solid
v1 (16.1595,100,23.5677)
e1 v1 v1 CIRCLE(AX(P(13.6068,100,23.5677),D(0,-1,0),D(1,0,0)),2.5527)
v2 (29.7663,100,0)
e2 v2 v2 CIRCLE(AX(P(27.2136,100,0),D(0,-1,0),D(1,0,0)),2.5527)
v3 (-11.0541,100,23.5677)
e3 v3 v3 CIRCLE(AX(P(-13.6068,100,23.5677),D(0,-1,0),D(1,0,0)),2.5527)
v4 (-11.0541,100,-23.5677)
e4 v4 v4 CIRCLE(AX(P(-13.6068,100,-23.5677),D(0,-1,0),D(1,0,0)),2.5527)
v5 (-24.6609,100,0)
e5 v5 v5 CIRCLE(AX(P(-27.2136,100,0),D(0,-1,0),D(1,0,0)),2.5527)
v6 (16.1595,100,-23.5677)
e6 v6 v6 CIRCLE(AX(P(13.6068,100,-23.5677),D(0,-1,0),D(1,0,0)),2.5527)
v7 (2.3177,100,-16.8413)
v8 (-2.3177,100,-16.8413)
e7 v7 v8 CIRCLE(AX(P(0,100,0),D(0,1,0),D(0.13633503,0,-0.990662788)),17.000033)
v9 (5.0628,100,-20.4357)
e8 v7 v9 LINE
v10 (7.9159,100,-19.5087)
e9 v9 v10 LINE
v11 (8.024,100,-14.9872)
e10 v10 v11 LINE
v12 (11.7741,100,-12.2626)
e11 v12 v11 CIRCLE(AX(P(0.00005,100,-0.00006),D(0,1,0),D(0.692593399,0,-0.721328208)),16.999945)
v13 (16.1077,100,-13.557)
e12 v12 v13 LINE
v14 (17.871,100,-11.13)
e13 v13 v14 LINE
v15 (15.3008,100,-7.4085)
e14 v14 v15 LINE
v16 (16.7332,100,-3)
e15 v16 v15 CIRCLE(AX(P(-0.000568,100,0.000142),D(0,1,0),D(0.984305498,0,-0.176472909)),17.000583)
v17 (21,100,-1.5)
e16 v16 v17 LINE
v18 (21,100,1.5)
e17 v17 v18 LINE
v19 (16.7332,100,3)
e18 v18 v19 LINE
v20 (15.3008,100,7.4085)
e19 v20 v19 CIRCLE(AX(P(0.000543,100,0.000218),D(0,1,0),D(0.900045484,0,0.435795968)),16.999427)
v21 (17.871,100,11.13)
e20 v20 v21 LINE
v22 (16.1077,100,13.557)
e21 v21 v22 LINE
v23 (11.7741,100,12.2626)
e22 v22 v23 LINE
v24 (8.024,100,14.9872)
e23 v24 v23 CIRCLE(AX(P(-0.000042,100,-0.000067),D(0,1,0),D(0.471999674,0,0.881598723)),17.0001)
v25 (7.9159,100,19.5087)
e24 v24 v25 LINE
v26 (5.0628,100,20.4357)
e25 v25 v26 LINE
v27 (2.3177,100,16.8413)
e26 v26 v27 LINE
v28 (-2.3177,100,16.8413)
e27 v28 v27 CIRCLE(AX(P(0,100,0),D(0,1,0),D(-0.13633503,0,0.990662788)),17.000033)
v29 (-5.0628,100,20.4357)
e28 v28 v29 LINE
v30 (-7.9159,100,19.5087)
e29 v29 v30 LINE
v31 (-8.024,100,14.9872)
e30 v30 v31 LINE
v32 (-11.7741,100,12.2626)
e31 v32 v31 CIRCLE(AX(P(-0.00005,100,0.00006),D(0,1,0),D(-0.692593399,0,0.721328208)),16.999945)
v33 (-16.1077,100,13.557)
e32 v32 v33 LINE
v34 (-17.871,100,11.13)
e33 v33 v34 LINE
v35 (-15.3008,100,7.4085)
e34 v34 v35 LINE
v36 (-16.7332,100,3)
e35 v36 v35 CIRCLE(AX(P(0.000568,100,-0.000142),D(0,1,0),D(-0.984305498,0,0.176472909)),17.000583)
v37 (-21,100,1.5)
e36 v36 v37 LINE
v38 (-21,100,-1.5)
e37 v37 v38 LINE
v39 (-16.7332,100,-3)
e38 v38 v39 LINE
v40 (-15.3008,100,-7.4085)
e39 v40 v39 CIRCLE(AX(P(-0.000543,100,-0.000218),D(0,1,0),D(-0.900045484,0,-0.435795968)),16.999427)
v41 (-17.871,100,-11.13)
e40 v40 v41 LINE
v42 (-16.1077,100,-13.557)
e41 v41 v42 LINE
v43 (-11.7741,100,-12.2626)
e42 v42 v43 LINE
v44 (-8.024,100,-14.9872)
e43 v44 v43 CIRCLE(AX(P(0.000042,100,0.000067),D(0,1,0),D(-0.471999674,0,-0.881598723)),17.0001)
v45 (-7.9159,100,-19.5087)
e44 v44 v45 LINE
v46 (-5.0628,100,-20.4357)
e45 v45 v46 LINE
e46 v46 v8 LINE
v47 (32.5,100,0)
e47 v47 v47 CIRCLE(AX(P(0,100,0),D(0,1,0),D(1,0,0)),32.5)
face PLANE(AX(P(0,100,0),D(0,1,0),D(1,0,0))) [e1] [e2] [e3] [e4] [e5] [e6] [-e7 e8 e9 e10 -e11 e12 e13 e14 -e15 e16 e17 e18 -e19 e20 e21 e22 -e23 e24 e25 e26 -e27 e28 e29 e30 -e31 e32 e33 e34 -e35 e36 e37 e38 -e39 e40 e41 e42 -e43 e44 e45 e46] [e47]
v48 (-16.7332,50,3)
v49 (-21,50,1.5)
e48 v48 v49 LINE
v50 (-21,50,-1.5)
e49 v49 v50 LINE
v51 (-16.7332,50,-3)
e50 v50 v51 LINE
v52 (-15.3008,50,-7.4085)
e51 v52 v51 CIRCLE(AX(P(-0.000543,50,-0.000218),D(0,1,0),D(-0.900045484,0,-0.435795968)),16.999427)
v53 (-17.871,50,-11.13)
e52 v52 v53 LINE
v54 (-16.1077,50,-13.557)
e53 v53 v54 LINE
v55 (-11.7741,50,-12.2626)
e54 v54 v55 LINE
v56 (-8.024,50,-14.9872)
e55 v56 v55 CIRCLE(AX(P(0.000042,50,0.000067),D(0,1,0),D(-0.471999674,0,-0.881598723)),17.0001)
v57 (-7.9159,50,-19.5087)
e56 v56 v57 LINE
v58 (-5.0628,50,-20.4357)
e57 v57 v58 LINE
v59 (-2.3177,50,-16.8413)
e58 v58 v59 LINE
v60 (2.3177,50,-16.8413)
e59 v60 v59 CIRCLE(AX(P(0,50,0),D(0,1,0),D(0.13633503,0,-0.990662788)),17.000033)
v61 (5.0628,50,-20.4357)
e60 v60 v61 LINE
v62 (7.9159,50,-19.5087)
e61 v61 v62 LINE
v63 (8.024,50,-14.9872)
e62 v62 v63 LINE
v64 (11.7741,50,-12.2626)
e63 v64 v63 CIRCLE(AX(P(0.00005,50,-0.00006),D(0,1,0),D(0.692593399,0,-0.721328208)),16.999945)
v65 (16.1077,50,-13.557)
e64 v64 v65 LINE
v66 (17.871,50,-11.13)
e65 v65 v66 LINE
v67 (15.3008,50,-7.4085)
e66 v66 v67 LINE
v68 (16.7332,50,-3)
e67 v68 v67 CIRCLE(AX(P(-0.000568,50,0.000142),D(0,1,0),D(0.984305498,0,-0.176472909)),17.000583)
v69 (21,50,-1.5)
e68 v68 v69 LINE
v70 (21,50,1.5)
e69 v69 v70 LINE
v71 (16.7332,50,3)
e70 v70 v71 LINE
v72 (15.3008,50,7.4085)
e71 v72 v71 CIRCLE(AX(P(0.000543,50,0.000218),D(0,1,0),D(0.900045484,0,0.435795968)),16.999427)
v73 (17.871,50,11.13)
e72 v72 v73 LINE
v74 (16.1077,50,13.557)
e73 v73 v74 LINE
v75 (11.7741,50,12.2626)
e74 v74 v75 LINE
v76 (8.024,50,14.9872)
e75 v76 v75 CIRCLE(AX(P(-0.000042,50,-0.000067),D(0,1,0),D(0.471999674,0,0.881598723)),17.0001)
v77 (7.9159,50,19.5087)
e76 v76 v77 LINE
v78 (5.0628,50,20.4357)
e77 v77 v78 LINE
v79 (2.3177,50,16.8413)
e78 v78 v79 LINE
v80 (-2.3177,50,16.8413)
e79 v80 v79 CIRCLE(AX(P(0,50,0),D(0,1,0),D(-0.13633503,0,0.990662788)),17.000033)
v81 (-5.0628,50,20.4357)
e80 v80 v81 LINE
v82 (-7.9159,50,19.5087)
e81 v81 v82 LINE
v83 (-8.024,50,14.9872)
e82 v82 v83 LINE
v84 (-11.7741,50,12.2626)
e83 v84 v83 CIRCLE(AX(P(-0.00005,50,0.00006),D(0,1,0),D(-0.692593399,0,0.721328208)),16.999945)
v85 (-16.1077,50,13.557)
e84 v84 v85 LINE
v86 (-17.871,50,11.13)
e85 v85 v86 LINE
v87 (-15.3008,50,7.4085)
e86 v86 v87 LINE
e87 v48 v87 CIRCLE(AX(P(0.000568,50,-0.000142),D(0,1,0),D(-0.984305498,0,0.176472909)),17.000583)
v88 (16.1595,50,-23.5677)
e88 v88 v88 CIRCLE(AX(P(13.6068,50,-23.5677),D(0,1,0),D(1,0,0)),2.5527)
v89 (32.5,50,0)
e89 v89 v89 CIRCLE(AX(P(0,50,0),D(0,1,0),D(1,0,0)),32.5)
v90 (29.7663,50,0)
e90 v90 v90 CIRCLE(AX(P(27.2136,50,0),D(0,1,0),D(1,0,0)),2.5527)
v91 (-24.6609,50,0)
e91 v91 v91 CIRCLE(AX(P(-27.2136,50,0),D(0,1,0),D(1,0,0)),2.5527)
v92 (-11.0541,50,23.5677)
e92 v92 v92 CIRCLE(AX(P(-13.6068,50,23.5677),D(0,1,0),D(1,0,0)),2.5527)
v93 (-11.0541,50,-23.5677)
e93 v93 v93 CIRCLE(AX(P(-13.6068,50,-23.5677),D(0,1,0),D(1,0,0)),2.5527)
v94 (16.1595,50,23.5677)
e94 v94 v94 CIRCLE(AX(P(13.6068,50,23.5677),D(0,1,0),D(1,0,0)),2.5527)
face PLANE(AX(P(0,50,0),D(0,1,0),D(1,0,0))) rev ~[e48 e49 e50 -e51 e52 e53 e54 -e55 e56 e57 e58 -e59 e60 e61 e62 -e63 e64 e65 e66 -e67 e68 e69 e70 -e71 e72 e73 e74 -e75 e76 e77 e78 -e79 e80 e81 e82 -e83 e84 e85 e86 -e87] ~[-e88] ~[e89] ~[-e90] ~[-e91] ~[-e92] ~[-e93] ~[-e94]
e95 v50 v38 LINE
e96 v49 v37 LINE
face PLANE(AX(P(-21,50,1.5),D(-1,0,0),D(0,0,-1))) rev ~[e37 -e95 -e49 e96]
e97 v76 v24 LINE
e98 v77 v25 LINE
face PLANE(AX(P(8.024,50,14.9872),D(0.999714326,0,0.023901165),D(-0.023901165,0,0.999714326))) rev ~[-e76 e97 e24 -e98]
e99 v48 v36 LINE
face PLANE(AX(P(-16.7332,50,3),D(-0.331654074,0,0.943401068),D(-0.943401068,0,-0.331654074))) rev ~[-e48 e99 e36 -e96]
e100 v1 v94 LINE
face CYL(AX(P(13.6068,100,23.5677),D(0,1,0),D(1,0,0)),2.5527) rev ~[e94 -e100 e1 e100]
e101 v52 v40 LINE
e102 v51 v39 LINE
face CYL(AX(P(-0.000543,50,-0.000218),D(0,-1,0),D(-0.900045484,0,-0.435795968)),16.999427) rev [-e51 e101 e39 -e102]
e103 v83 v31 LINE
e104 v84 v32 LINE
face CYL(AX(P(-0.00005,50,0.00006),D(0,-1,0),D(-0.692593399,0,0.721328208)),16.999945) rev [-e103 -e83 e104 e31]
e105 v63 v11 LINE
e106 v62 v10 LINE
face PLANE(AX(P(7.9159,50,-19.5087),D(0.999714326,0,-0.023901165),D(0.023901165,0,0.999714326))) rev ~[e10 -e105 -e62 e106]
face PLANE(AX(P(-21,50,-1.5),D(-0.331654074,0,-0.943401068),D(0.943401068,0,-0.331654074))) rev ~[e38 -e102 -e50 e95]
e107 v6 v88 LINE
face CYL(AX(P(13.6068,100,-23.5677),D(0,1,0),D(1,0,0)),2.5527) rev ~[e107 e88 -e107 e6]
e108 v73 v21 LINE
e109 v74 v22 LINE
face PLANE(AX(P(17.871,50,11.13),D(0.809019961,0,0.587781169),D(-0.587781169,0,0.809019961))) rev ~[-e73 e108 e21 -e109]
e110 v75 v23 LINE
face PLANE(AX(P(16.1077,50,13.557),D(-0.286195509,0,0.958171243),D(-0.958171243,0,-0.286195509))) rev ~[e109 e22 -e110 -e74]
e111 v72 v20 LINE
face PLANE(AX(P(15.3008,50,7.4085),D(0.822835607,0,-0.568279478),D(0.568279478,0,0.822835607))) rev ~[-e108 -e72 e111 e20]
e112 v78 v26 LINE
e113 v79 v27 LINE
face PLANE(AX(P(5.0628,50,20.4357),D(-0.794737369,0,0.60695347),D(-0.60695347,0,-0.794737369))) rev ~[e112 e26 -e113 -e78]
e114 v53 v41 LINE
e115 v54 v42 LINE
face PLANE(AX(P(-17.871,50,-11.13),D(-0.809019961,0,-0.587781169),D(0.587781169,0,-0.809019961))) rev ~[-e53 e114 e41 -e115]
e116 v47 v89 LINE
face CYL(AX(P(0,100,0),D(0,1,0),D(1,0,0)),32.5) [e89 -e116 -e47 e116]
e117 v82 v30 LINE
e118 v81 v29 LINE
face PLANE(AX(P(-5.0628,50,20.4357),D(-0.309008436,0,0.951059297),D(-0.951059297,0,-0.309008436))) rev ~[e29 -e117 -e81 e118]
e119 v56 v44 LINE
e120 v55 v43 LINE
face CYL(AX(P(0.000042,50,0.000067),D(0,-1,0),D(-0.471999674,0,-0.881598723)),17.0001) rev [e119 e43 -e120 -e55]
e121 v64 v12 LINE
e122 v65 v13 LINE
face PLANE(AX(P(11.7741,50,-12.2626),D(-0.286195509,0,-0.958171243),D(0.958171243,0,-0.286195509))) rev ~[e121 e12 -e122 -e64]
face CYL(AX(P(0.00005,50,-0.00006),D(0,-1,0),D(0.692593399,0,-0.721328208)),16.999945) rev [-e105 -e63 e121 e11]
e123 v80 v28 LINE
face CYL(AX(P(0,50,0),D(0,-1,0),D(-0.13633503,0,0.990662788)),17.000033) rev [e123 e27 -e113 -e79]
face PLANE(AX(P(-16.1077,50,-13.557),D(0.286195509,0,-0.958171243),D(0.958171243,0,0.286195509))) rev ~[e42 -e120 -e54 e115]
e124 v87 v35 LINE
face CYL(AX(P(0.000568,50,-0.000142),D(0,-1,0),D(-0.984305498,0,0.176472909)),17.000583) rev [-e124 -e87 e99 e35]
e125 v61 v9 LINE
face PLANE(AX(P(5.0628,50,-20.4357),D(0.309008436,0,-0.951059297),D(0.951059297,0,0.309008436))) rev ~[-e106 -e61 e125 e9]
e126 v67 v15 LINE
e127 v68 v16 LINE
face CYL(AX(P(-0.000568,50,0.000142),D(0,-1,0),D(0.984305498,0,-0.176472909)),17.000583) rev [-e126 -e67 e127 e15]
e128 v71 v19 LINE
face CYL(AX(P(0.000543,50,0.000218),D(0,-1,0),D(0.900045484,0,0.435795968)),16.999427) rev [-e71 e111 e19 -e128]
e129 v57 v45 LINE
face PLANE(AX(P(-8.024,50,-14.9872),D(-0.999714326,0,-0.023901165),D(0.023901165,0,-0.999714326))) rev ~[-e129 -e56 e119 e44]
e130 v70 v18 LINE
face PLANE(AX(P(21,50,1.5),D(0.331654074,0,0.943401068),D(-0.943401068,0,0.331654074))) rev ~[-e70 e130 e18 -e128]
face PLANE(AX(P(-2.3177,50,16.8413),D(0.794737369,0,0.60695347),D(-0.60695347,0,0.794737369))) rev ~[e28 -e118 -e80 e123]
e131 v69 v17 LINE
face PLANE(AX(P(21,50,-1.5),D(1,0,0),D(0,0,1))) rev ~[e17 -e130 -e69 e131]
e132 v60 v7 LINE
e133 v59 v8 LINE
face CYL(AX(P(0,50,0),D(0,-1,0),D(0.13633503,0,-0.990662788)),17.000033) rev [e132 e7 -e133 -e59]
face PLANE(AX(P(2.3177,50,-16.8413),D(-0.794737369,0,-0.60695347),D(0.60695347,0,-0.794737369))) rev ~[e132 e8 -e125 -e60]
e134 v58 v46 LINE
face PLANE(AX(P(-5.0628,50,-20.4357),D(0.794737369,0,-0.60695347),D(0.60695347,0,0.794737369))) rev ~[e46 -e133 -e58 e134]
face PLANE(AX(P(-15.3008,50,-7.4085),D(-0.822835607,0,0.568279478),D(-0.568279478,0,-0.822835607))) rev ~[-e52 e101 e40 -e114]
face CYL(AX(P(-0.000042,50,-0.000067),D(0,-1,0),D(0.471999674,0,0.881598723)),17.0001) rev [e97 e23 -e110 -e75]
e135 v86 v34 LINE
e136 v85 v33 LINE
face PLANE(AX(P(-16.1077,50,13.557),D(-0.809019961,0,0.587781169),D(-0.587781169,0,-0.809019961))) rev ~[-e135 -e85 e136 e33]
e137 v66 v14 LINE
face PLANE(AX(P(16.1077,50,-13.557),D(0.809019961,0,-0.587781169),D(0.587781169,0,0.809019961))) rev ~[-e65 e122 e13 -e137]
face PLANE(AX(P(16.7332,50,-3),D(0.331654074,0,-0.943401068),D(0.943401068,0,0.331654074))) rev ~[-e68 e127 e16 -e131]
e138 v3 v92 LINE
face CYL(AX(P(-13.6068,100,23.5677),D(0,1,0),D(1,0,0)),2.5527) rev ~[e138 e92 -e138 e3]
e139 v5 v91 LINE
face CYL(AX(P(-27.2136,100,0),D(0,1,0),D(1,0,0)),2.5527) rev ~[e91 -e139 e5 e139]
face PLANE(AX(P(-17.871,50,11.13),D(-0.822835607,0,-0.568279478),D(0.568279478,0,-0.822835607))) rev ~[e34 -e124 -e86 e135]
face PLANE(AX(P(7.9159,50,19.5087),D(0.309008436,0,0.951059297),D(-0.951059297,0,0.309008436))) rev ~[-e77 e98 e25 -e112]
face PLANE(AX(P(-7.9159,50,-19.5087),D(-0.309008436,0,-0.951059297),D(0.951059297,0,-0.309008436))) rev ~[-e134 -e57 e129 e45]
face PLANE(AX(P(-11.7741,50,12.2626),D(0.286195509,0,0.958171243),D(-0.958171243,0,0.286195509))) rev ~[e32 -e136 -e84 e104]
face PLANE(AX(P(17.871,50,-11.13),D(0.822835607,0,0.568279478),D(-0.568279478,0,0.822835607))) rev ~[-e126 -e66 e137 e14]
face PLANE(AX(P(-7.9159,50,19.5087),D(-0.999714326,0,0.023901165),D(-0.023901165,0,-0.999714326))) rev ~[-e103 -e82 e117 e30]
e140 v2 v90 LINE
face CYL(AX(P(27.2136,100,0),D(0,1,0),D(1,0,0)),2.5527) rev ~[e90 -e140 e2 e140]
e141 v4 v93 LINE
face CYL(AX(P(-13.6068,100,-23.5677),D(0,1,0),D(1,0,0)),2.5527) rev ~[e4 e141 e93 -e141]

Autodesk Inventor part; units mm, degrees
ref_plane "YZ Plane" through (0, 0, 0) normal (1, 0, 0) x (0, 1, 0)
ref_plane "XZ Plane" through (0, 0, 0) normal (0, 1, 0) x (-1, 0, 0)
ref_plane "XY Plane" through (0, 0, 0) normal (0, 0, 1) x (1, 0, 0)
sketch "Sketch1" plane through (0, 0, 0) normal (0, 1, 0) x (-1, 0, 0)
  circle A0 centre (0, 0) radius 17
  line L0 (16.7332, -3) -> (21, -1.5)
  line L1 (21, -1.5) -> (21, 1.5)
  line L2 (21, 1.5) -> (16.7332, 3)
  line L3 (15.3008, 7.4085) -> (17.871, 11.13)
  line L4 (17.871, 11.13) -> (16.1077, 13.557)
  line L5 (16.1077, 13.557) -> (11.7741, 12.2626)
  line L6 (8.024, 14.9872) -> (7.9159, 19.5087)
  line L7 (7.9159, 19.5087) -> (5.0628, 20.4357)
  line L8 (5.0628, 20.4357) -> (2.3177, 16.8413)
  line L9 (-2.3177, 16.8413) -> (-5.0628, 20.4357)
  line L10 (-5.0628, 20.4357) -> (-7.9159, 19.5087)
  line L11 (-7.9159, 19.5087) -> (-8.024, 14.9872)
  line L12 (-11.7741, 12.2626) -> (-16.1077, 13.557)
  line L13 (-16.1077, 13.557) -> (-17.871, 11.13)
  line L14 (-17.871, 11.13) -> (-15.3008, 7.4085)
  line L15 (-16.7332, 3) -> (-21, 1.5)
  line L16 (-21, 1.5) -> (-21, -1.5)
  line L17 (-21, -1.5) -> (-16.7332, -3)
  line L18 (-15.3008, -7.4085) -> (-17.871, -11.13)
  line L19 (-17.871, -11.13) -> (-16.1077, -13.557)
  line L20 (-16.1077, -13.557) -> (-11.7741, -12.2626)
  line L21 (-8.024, -14.9872) -> (-7.9159, -19.5087)
  line L22 (-7.9159, -19.5087) -> (-5.0628, -20.4357)
  line L23 (-5.0628, -20.4357) -> (-2.3177, -16.8413)
  line L24 (2.3177, -16.8413) -> (5.0628, -20.4357)
  line L25 (5.0628, -20.4357) -> (7.9159, -19.5087)
  line L26 (7.9159, -19.5087) -> (8.024, -14.9872)
  line L27 (11.7741, -12.2626) -> (16.1077, -13.557)
  line L28 (16.1077, -13.557) -> (17.871, -11.13)
  line L29 (17.871, -11.13) -> (15.3008, -7.4085)
  dimension "d0" = 34
  dimension "d1" = 3
  dimension "d2" = 6
  dimension "d3" = 4
  dimension "d4" = 109.369
  dimension "d5" = 109.369
  dimension "d8" = 360
extrude "Extrusion1" add sketch "Sketch1" along normal blind 5
sketch "Sketch2" plane through (0, 5, 0) normal (0, 1, 0) x (1, 0, 0)
  line L0 (-15.3008, -7.4085) -> (-17.871, -11.13) projected
  line L1 (-17.871, -11.13) -> (-16.1077, -13.557) projected
  line L2 (-16.1077, -13.557) -> (-11.7741, -12.2626) projected
  arc A0 (-11.7741, -12.2626) -> (-8.024, -14.9872) centre (0, 0) ccw projected
  line L3 (-8.024, -14.9872) -> (-7.9159, -19.5087) projected
  line L4 (-7.9159, -19.5087) -> (-5.0628, -20.4357) projected
  line L5 (-5.0628, -20.4357) -> (-2.3177, -16.8413) projected
  arc A1 (-2.3177, -16.8413) -> (2.3177, -16.8413) centre (0, 0) ccw projected
  line L6 (2.3177, -16.8413) -> (5.0628, -20.4357) projected
  line L7 (5.0628, -20.4357) -> (7.9159, -19.5087) projected
  line L8 (7.9159, -19.5087) -> (8.024, -14.9872) projected
  arc A2 (8.024, -14.9872) -> (11.7741, -12.2626) centre (0, 0) ccw projected
  line L9 (11.7741, -12.2626) -> (16.1077, -13.557) projected
  line L10 (16.1077, -13.557) -> (17.871, -11.13) projected
  line L11 (17.871, -11.13) -> (15.3008, -7.4085) projected
  arc A3 (15.3008, -7.4085) -> (16.7332, -3) centre (0, 0) ccw projected
  line L12 (16.7332, -3) -> (21, -1.5) projected
  line L13 (21, -1.5) -> (21, 1.5) projected
  line L14 (21, 1.5) -> (16.7332, 3) projected
  arc A4 (16.7332, 3) -> (15.3008, 7.4085) centre (0, 0) ccw projected
  line L15 (15.3008, 7.4085) -> (17.871, 11.13) projected
  line L16 (17.871, 11.13) -> (16.1077, 13.557) projected
  line L17 (16.1077, 13.557) -> (11.7741, 12.2626) projected
  arc A5 (11.7741, 12.2626) -> (8.024, 14.9872) centre (0, 0) ccw projected
  line L18 (8.024, 14.9872) -> (7.9159, 19.5087) projected
  line L19 (7.9159, 19.5087) -> (5.0628, 20.4357) projected
  line L20 (5.0628, 20.4357) -> (2.3177, 16.8413) projected
  arc A6 (2.3177, 16.8413) -> (-2.3177, 16.8413) centre (0, 0) ccw projected
  line L21 (-2.3177, 16.8413) -> (-5.0628, 20.4357) projected
  line L22 (-5.0628, 20.4357) -> (-7.9159, 19.5087) projected
  line L23 (-7.9159, 19.5087) -> (-8.024, 14.9872) projected
  arc A7 (-8.024, 14.9872) -> (-11.7741, 12.2626) centre (0, 0) ccw projected
  line L24 (-11.7741, 12.2626) -> (-16.1077, 13.557) projected
  line L25 (-16.1077, 13.557) -> (-17.871, 11.13) projected
  line L26 (-17.871, 11.13) -> (-15.3008, 7.4085) projected
  arc A8 (-15.3008, 7.4085) -> (-16.7332, 3) centre (0, 0) ccw projected
  line L27 (-16.7332, 3) -> (-21, 1.5) projected
  line L28 (-21, 1.5) -> (-21, -1.5) projected
  line L29 (-21, -1.5) -> (-16.7332, -3) projected
  arc A9 (-16.7332, -3) -> (-15.3008, -7.4085) centre (0, 0) ccw projected
extrude "Extrusion2" add sketch "Sketch2" along normal blind 500
sketch "Sketch3" plane through (0, 505, 0) normal (0, 1, 0) x (1, 0, 0)
  circle A0 centre (0, 0) radius 4
  dimension "d14" = 8
extrude "Extrusion3" cut sketch "Sketch3" against normal blind 528.7
sketch "Sketch4" plane through (0, 505, 0) normal (0, 1, 0) x (1, 0, 0)
  circle A0 centre (0, 0) radius 4 projected
  line L0 (-17.871, -11.13) -> (-16.1077, -13.557) projected
  line L1 (-16.1077, -13.557) -> (-11.7741, -12.2626) projected
  arc A1 (-11.7741, -12.2626) -> (-8.024, -14.9872) centre (0, 0) ccw projected
  line L2 (-8.024, -14.9872) -> (-7.9159, -19.5087) projected
  line L3 (-7.9159, -19.5087) -> (-5.0628, -20.4357) projected
  line L4 (-5.0628, -20.4357) -> (-2.3177, -16.8413) projected
  arc A2 (-2.3177, -16.8413) -> (2.3177, -16.8413) centre (0, 0) ccw projected
  line L5 (2.3177, -16.8413) -> (5.0628, -20.4357) projected
  line L6 (5.0628, -20.4357) -> (7.9159, -19.5087) projected
  line L7 (7.9159, -19.5087) -> (8.024, -14.9872) projected
  arc A3 (8.024, -14.9872) -> (11.7741, -12.2626) centre (0, 0) ccw projected
  line L8 (11.7741, -12.2626) -> (16.1077, -13.557) projected
  line L9 (16.1077, -13.557) -> (17.871, -11.13) projected
  line L10 (17.871, -11.13) -> (15.3008, -7.4085) projected
  arc A4 (15.3008, -7.4085) -> (16.7332, -3) centre (0, 0) ccw projected
  line L11 (16.7332, -3) -> (21, -1.5) projected
  line L12 (21, -1.5) -> (21, 1.5) projected
  line L13 (21, 1.5) -> (16.7332, 3) projected
  arc A5 (16.7332, 3) -> (15.3008, 7.4085) centre (0, 0) ccw projected
  line L14 (15.3008, 7.4085) -> (17.871, 11.13) projected
  line L15 (17.871, 11.13) -> (16.1077, 13.557) projected
  line L16 (16.1077, 13.557) -> (11.7741, 12.2626) projected
  arc A6 (11.7741, 12.2626) -> (8.024, 14.9872) centre (0, 0) ccw projected
  line L17 (8.024, 14.9872) -> (7.9159, 19.5087) projected
  line L18 (7.9159, 19.5087) -> (5.0628, 20.4357) projected
  line L19 (5.0628, 20.4357) -> (2.3177, 16.8413) projected
  arc A7 (2.3177, 16.8413) -> (-2.3177, 16.8413) centre (0, 0) ccw projected
  line L20 (-2.3177, 16.8413) -> (-5.0628, 20.4357) projected
  line L21 (-5.0628, 20.4357) -> (-7.9159, 19.5087) projected
  line L22 (-7.9159, 19.5087) -> (-8.024, 14.9872) projected
  arc A8 (-8.024, 14.9872) -> (-11.7741, 12.2626) centre (0, 0) ccw projected
  line L23 (-11.7741, 12.2626) -> (-16.1077, 13.557) projected
  line L24 (-16.1077, 13.557) -> (-17.871, 11.13) projected
  line L25 (-17.871, 11.13) -> (-15.3008, 7.4085) projected
  arc A9 (-15.3008, 7.4085) -> (-16.7332, 3) centre (0, 0) ccw projected
  line L26 (-16.7332, 3) -> (-21, 1.5) projected
  line L27 (-21, 1.5) -> (-21, -1.5) projected
  line L28 (-21, -1.5) -> (-16.7332, -3) projected
  arc A10 (-16.7332, -3) -> (-15.3008, -7.4085) centre (0, 0) ccw projected
  line L29 (-15.3008, -7.4085) -> (-17.871, -11.13) projected
extrude "Extrusion4" cut sketch "Sketch4" against normal blind 449.2 contours A0 | L29 A10 L28 L27 L26 A9 L25 L24 L23 A8 L22 L21 L20 A7 L19 L18 L17 A6 L16 L15 L14 A5 L13 L12 L11 A4 L10 L9 L8 A3 L7 L6 L5 A2 L4 L3 L2 A1 L1 L0
sketch "Sketch5" plane through (0, 55.8, 0) normal (0, 1, 0) x (1, 0, 0)
  circle A0 centre (0, 0) radius 4 projected
  line L0 (-11.7741, -12.2626) -> (-16.1077, -13.557) projected
  arc A1 (-11.7741, -12.2626) -> (-8.024, -14.9872) centre (0, 0) ccw projected
  line L1 (-7.9159, -19.5087) -> (-8.024, -14.9872) projected
  line L2 (-5.0628, -20.4357) -> (-7.9159, -19.5087) projected
  line L3 (-2.3177, -16.8413) -> (-5.0628, -20.4357) projected
  arc A2 (-2.3177, -16.8413) -> (2.3177, -16.8413) centre (0, 0) ccw projected
  line L4 (5.0628, -20.4357) -> (2.3177, -16.8413) projected
  line L5 (7.9159, -19.5087) -> (5.0628, -20.4357) projected
  line L6 (8.024, -14.9872) -> (7.9159, -19.5087) projected
  arc A3 (8.024, -14.9872) -> (11.7741, -12.2626) centre (0, 0) ccw projected
  line L7 (16.1077, -13.557) -> (11.7741, -12.2626) projected
  line L8 (17.871, -11.13) -> (16.1077, -13.557) projected
  line L9 (15.3008, -7.4085) -> (17.871, -11.13) projected
  arc A4 (15.3008, -7.4085) -> (16.7332, -3) centre (0, 0) ccw projected
  line L10 (21, -1.5) -> (16.7332, -3) projected
  line L11 (21, 1.5) -> (21, -1.5) projected
  line L12 (16.7332, 3) -> (21, 1.5) projected
  arc A5 (16.7332, 3) -> (15.3008, 7.4085) centre (0, 0) ccw projected
  line L13 (17.871, 11.13) -> (15.3008, 7.4085) projected
  line L14 (16.1077, 13.557) -> (17.871, 11.13) projected
  line L15 (11.7741, 12.2626) -> (16.1077, 13.557) projected
  arc A6 (11.7741, 12.2626) -> (8.024, 14.9872) centre (0, 0) ccw projected
  line L16 (7.9159, 19.5087) -> (8.024, 14.9872) projected
  line L17 (5.0628, 20.4357) -> (7.9159, 19.5087) projected
  line L18 (2.3177, 16.8413) -> (5.0628, 20.4357) projected
  arc A7 (2.3177, 16.8413) -> (-2.3177, 16.8413) centre (0, 0) ccw projected
  line L19 (-5.0628, 20.4357) -> (-2.3177, 16.8413) projected
  line L20 (-7.9159, 19.5087) -> (-5.0628, 20.4357) projected
  line L21 (-8.024, 14.9872) -> (-7.9159, 19.5087) projected
  arc A8 (-8.024, 14.9872) -> (-11.7741, 12.2626) centre (0, 0) ccw projected
  line L22 (-16.1077, 13.557) -> (-11.7741, 12.2626) projected
  line L23 (-17.871, 11.13) -> (-16.1077, 13.557) projected
  line L24 (-15.3008, 7.4085) -> (-17.871, 11.13) projected
  arc A9 (-15.3008, 7.4085) -> (-16.7332, 3) centre (0, 0) ccw projected
  line L25 (-21, 1.5) -> (-16.7332, 3) projected
  line L26 (-21, -1.5) -> (-21, 1.5) projected
  line L27 (-16.7332, -3) -> (-21, -1.5) projected
  arc A10 (-16.7332, -3) -> (-15.3008, -7.4085) centre (0, 0) ccw projected
  line L28 (-17.871, -11.13) -> (-15.3008, -7.4085) projected
  line L29 (-16.1077, -13.557) -> (-17.871, -11.13) projected
extrude "Extrusion5" cut sketch "Sketch5" against normal blind 5.8
sketch "Sketch6" plane through (0, 50, 0) normal (0, 1, 0) x (1, 0, 0)
  circle A0 centre (0, 0) radius 45
  line L0 (5.0628, -20.4357) -> (2.3177, -16.8413) projected
  line L1 (7.9159, -19.5087) -> (5.0628, -20.4357) projected
  line L2 (8.024, -14.9872) -> (7.9159, -19.5087) projected
  arc A1 (8.024, -14.9872) -> (11.7741, -12.2626) centre (0, 0) ccw projected
  line L3 (16.1077, -13.557) -> (11.7741, -12.2626) projected
  line L4 (17.871, -11.13) -> (16.1077, -13.557) projected
  line L5 (15.3008, -7.4085) -> (17.871, -11.13) projected
  arc A2 (15.3008, -7.4085) -> (16.7332, -3) centre (0, 0) ccw projected
  line L6 (21, -1.5) -> (16.7332, -3) projected
  line L7 (21, 1.5) -> (21, -1.5) projected
  line L8 (16.7332, 3) -> (21, 1.5) projected
  arc A3 (16.7332, 3) -> (15.3008, 7.4085) centre (0, 0) ccw projected
  line L9 (17.871, 11.13) -> (15.3008, 7.4085) projected
  line L10 (16.1077, 13.557) -> (17.871, 11.13) projected
  line L11 (11.7741, 12.2626) -> (16.1077, 13.557) projected
  arc A4 (11.7741, 12.2626) -> (8.024, 14.9872) centre (0, 0) ccw projected
  line L12 (7.9159, 19.5087) -> (8.024, 14.9872) projected
  line L13 (5.0628, 20.4357) -> (7.9159, 19.5087) projected
  line L14 (2.3177, 16.8413) -> (5.0628, 20.4357) projected
  arc A5 (2.3177, 16.8413) -> (-2.3177, 16.8413) centre (0, 0) ccw projected
  line L15 (-5.0628, 20.4357) -> (-2.3177, 16.8413) projected
  line L16 (-7.9159, 19.5087) -> (-5.0628, 20.4357) projected
  line L17 (-8.024, 14.9872) -> (-7.9159, 19.5087) projected
  arc A6 (-8.024, 14.9872) -> (-11.7741, 12.2626) centre (0, 0) ccw projected
  line L18 (-16.1077, 13.557) -> (-11.7741, 12.2626) projected
  line L19 (-17.871, 11.13) -> (-16.1077, 13.557) projected
  line L20 (-15.3008, 7.4085) -> (-17.871, 11.13) projected
  arc A7 (-15.3008, 7.4085) -> (-16.7332, 3) centre (0, 0) ccw projected
  line L21 (-21, 1.5) -> (-16.7332, 3) projected
  line L22 (-21, -1.5) -> (-21, 1.5) projected
  line L23 (-16.7332, -3) -> (-21, -1.5) projected
  arc A8 (-16.7332, -3) -> (-15.3008, -7.4085) centre (0, 0) ccw projected
  line L24 (-17.871, -11.13) -> (-15.3008, -7.4085) projected
  line L25 (-16.1077, -13.557) -> (-17.871, -11.13) projected
  line L26 (-11.7741, -12.2626) -> (-16.1077, -13.557) projected
  arc A9 (-11.7741, -12.2626) -> (-8.024, -14.9872) centre (0, 0) ccw projected
  line L27 (-7.9159, -19.5087) -> (-8.024, -14.9872) projected
  line L28 (-5.0628, -20.4357) -> (-7.9159, -19.5087) projected
  line L29 (-2.3177, -16.8413) -> (-5.0628, -20.4357) projected
  arc A10 (-2.3177, -16.8413) -> (2.3177, -16.8413) centre (0, 0) ccw projected
  circle A11 centre (0, 0) radius 4 projected
  dimension "d21" = 90
extrude "Extrusion6" add sketch "Sketch6" along normal blind 50 contours A0
sketch "Sketch7" plane through (0, 100, 0) normal (0, 1, 0) x (1, 0, 0)
  circle A0 centre (0, 0) radius 45 projected
  line L0 (8.024, -14.9872) -> (7.9159, -19.5087) projected
  line L1 (7.9159, -19.5087) -> (5.0628, -20.4357) projected
  line L2 (5.0628, -20.4357) -> (2.3177, -16.8413) projected
  arc A1 (-2.3177, -16.8413) -> (2.3177, -16.8413) centre (0, 0) ccw projected
  line L3 (-2.3177, -16.8413) -> (-5.0628, -20.4357) projected
  line L4 (-5.0628, -20.4357) -> (-7.9159, -19.5087) projected
  line L5 (-7.9159, -19.5087) -> (-8.024, -14.9872) projected
  arc A2 (-11.7741, -12.2626) -> (-8.024, -14.9872) centre (0, 0) ccw projected
  line L6 (-11.7741, -12.2626) -> (-16.1077, -13.557) projected
  line L7 (-16.1077, -13.557) -> (-17.871, -11.13) projected
  line L8 (-17.871, -11.13) -> (-15.3008, -7.4085) projected
  arc A3 (-16.7332, -3) -> (-15.3008, -7.4085) centre (0, 0) ccw projected
  line L9 (-16.7332, -3) -> (-21, -1.5) projected
  line L10 (-21, -1.5) -> (-21, 1.5) projected
  line L11 (-21, 1.5) -> (-16.7332, 3) projected
  arc A4 (-15.3008, 7.4085) -> (-16.7332, 3) centre (0, 0) ccw projected
  line L12 (-15.3008, 7.4085) -> (-17.871, 11.13) projected
  line L13 (-17.871, 11.13) -> (-16.1077, 13.557) projected
  line L14 (-16.1077, 13.557) -> (-11.7741, 12.2626) projected
  arc A5 (-8.024, 14.9872) -> (-11.7741, 12.2626) centre (0, 0) ccw projected
  line L15 (-8.024, 14.9872) -> (-7.9159, 19.5087) projected
  line L16 (-7.9159, 19.5087) -> (-5.0628, 20.4357) projected
  line L17 (-5.0628, 20.4357) -> (-2.3177, 16.8413) projected
  arc A6 (2.3177, 16.8413) -> (-2.3177, 16.8413) centre (0, 0) ccw projected
  line L18 (2.3177, 16.8413) -> (5.0628, 20.4357) projected
  line L19 (5.0628, 20.4357) -> (7.9159, 19.5087) projected
  line L20 (7.9159, 19.5087) -> (8.024, 14.9872) projected
  arc A7 (11.7741, 12.2626) -> (8.024, 14.9872) centre (0, 0) ccw projected
  line L21 (11.7741, 12.2626) -> (16.1077, 13.557) projected
  line L22 (16.1077, 13.557) -> (17.871, 11.13) projected
  line L23 (17.871, 11.13) -> (15.3008, 7.4085) projected
  arc A8 (16.7332, 3) -> (15.3008, 7.4085) centre (0, 0) ccw projected
  line L24 (16.7332, 3) -> (21, 1.5) projected
  line L25 (21, 1.5) -> (21, -1.5) projected
  line L26 (21, -1.5) -> (16.7332, -3) projected
  arc A9 (15.3008, -7.4085) -> (16.7332, -3) centre (0, 0) ccw projected
  line L27 (15.3008, -7.4085) -> (17.871, -11.13) projected
  line L28 (17.871, -11.13) -> (16.1077, -13.557) projected
  line L29 (16.1077, -13.557) -> (11.7741, -12.2626) projected
  arc A10 (8.024, -14.9872) -> (11.7741, -12.2626) centre (0, 0) ccw projected
  circle A11 centre (0, 0) radius 32.5
  dimension "d24" = 65
extrude "Extrusion7" cut sketch "Sketch7" against normal blind 75.4125 contours A0
sketch "Sketch8" plane through (0, 0, 0) normal (0, -1, 0) x (1, 0, 0)
  circle A0 centre (0, 0) radius 4 projected
  line L0 (-15.3008, 7.4085) -> (-17.871, 11.13) projected
  arc A1 (-15.3008, 7.4085) -> (-16.7332, 3) centre (0, 0) ccw projected
  line L1 (-21, 1.5) -> (-16.7332, 3) projected
  line L2 (-21, -1.5) -> (-21, 1.5) projected
  line L3 (-16.7332, -3) -> (-21, -1.5) projected
  arc A2 (-16.7332, -3) -> (-15.3008, -7.4085) centre (0, 0) ccw projected
  line L4 (-17.871, -11.13) -> (-15.3008, -7.4085) projected
  line L5 (-16.1077, -13.557) -> (-17.871, -11.13) projected
  line L6 (-11.7741, -12.2626) -> (-16.1077, -13.557) projected
  arc A3 (-11.7741, -12.2626) -> (-8.024, -14.9872) centre (0, 0) ccw projected
  line L7 (-7.9159, -19.5087) -> (-8.024, -14.9872) projected
  line L8 (-5.0628, -20.4357) -> (-7.9159, -19.5087) projected
  line L9 (-2.3177, -16.8413) -> (-5.0628, -20.4357) projected
  arc A4 (-2.3177, -16.8413) -> (2.3177, -16.8413) centre (0, 0) ccw projected
  line L10 (5.0628, -20.4357) -> (2.3177, -16.8413) projected
  line L11 (7.9159, -19.5087) -> (5.0628, -20.4357) projected
  line L12 (8.024, -14.9872) -> (7.9159, -19.5087) projected
  arc A5 (8.024, -14.9872) -> (11.7741, -12.2626) centre (0, 0) ccw projected
  line L13 (16.1077, -13.557) -> (11.7741, -12.2626) projected
  line L14 (17.871, -11.13) -> (16.1077, -13.557) projected
  line L15 (15.3008, -7.4085) -> (17.871, -11.13) projected
  arc A6 (15.3008, -7.4085) -> (16.7332, -3) centre (0, 0) ccw projected
  line L16 (21, -1.5) -> (16.7332, -3) projected
  line L17 (21, 1.5) -> (21, -1.5) projected
  line L18 (16.7332, 3) -> (21, 1.5) projected
  arc A7 (16.7332, 3) -> (15.3008, 7.4085) centre (0, 0) ccw projected
  line L19 (17.871, 11.13) -> (15.3008, 7.4085) projected
  line L20 (16.1077, 13.557) -> (17.871, 11.13) projected
  line L21 (11.7741, 12.2626) -> (16.1077, 13.557) projected
  arc A8 (11.7741, 12.2626) -> (8.024, 14.9872) centre (0, 0) ccw projected
  line L22 (7.9159, 19.5087) -> (8.024, 14.9872) projected
  line L23 (5.0628, 20.4357) -> (7.9159, 19.5087) projected
  line L24 (2.3177, 16.8413) -> (5.0628, 20.4357) projected
  arc A9 (2.3177, 16.8413) -> (-2.3177, 16.8413) centre (0, 0) ccw projected
  line L25 (-5.0628, 20.4357) -> (-2.3177, 16.8413) projected
  line L26 (-7.9159, 19.5087) -> (-5.0628, 20.4357) projected
  line L27 (-8.024, 14.9872) -> (-7.9159, 19.5087) projected
  arc A10 (-8.024, 14.9872) -> (-11.7741, 12.2626) centre (0, 0) ccw projected
  line L28 (-16.1077, 13.557) -> (-11.7741, 12.2626) projected
  line L29 (-17.871, 11.13) -> (-16.1077, 13.557) projected
extrude "Extrusion8" cut sketch "Sketch8" against normal up to surface (50 mm away)
sketch "Sketch9" plane through (0, 100, 0) normal (0, 1, 0) x (1, 0, 0)
  circle A0 centre (-27.2136, 0) radius 2.5527
  circle A1 centre (0, 0) radius 27.2136
  circle A2 centre (-13.6068, -23.5677) radius 2.5527
  circle A3 centre (0, 0) radius 27.2136
  circle A4 centre (13.6068, -23.5677) radius 2.5527
  circle A5 centre (0, 0) radius 27.2136
  circle A6 centre (27.2136, 0) radius 2.5527
  circle A7 centre (0, 0) radius 27.2136
  circle A8 centre (13.6068, 23.5677) radius 2.5527
  circle A9 centre (0, 0) radius 27.2136
  circle A10 centre (-13.6068, 23.5677) radius 2.5527
  circle A11 centre (0, 0) radius 27.2136
  dimension "d29" = 5.1054
  dimension "d32" = 360
extrude "Extrusion9" cut sketch "Sketch9" against normal blind 74.1375 contours A0 A1 | A1 A0 | A10 A1 | A1 A10 | A2 A1 | A1 A2 | A8 A1 | A1 A8 | A4 A1 | A1 A4 | A6 A1 | A1 A6
equation "\"d4\" = d5"
properties part number "Wrist Arm Plates"
